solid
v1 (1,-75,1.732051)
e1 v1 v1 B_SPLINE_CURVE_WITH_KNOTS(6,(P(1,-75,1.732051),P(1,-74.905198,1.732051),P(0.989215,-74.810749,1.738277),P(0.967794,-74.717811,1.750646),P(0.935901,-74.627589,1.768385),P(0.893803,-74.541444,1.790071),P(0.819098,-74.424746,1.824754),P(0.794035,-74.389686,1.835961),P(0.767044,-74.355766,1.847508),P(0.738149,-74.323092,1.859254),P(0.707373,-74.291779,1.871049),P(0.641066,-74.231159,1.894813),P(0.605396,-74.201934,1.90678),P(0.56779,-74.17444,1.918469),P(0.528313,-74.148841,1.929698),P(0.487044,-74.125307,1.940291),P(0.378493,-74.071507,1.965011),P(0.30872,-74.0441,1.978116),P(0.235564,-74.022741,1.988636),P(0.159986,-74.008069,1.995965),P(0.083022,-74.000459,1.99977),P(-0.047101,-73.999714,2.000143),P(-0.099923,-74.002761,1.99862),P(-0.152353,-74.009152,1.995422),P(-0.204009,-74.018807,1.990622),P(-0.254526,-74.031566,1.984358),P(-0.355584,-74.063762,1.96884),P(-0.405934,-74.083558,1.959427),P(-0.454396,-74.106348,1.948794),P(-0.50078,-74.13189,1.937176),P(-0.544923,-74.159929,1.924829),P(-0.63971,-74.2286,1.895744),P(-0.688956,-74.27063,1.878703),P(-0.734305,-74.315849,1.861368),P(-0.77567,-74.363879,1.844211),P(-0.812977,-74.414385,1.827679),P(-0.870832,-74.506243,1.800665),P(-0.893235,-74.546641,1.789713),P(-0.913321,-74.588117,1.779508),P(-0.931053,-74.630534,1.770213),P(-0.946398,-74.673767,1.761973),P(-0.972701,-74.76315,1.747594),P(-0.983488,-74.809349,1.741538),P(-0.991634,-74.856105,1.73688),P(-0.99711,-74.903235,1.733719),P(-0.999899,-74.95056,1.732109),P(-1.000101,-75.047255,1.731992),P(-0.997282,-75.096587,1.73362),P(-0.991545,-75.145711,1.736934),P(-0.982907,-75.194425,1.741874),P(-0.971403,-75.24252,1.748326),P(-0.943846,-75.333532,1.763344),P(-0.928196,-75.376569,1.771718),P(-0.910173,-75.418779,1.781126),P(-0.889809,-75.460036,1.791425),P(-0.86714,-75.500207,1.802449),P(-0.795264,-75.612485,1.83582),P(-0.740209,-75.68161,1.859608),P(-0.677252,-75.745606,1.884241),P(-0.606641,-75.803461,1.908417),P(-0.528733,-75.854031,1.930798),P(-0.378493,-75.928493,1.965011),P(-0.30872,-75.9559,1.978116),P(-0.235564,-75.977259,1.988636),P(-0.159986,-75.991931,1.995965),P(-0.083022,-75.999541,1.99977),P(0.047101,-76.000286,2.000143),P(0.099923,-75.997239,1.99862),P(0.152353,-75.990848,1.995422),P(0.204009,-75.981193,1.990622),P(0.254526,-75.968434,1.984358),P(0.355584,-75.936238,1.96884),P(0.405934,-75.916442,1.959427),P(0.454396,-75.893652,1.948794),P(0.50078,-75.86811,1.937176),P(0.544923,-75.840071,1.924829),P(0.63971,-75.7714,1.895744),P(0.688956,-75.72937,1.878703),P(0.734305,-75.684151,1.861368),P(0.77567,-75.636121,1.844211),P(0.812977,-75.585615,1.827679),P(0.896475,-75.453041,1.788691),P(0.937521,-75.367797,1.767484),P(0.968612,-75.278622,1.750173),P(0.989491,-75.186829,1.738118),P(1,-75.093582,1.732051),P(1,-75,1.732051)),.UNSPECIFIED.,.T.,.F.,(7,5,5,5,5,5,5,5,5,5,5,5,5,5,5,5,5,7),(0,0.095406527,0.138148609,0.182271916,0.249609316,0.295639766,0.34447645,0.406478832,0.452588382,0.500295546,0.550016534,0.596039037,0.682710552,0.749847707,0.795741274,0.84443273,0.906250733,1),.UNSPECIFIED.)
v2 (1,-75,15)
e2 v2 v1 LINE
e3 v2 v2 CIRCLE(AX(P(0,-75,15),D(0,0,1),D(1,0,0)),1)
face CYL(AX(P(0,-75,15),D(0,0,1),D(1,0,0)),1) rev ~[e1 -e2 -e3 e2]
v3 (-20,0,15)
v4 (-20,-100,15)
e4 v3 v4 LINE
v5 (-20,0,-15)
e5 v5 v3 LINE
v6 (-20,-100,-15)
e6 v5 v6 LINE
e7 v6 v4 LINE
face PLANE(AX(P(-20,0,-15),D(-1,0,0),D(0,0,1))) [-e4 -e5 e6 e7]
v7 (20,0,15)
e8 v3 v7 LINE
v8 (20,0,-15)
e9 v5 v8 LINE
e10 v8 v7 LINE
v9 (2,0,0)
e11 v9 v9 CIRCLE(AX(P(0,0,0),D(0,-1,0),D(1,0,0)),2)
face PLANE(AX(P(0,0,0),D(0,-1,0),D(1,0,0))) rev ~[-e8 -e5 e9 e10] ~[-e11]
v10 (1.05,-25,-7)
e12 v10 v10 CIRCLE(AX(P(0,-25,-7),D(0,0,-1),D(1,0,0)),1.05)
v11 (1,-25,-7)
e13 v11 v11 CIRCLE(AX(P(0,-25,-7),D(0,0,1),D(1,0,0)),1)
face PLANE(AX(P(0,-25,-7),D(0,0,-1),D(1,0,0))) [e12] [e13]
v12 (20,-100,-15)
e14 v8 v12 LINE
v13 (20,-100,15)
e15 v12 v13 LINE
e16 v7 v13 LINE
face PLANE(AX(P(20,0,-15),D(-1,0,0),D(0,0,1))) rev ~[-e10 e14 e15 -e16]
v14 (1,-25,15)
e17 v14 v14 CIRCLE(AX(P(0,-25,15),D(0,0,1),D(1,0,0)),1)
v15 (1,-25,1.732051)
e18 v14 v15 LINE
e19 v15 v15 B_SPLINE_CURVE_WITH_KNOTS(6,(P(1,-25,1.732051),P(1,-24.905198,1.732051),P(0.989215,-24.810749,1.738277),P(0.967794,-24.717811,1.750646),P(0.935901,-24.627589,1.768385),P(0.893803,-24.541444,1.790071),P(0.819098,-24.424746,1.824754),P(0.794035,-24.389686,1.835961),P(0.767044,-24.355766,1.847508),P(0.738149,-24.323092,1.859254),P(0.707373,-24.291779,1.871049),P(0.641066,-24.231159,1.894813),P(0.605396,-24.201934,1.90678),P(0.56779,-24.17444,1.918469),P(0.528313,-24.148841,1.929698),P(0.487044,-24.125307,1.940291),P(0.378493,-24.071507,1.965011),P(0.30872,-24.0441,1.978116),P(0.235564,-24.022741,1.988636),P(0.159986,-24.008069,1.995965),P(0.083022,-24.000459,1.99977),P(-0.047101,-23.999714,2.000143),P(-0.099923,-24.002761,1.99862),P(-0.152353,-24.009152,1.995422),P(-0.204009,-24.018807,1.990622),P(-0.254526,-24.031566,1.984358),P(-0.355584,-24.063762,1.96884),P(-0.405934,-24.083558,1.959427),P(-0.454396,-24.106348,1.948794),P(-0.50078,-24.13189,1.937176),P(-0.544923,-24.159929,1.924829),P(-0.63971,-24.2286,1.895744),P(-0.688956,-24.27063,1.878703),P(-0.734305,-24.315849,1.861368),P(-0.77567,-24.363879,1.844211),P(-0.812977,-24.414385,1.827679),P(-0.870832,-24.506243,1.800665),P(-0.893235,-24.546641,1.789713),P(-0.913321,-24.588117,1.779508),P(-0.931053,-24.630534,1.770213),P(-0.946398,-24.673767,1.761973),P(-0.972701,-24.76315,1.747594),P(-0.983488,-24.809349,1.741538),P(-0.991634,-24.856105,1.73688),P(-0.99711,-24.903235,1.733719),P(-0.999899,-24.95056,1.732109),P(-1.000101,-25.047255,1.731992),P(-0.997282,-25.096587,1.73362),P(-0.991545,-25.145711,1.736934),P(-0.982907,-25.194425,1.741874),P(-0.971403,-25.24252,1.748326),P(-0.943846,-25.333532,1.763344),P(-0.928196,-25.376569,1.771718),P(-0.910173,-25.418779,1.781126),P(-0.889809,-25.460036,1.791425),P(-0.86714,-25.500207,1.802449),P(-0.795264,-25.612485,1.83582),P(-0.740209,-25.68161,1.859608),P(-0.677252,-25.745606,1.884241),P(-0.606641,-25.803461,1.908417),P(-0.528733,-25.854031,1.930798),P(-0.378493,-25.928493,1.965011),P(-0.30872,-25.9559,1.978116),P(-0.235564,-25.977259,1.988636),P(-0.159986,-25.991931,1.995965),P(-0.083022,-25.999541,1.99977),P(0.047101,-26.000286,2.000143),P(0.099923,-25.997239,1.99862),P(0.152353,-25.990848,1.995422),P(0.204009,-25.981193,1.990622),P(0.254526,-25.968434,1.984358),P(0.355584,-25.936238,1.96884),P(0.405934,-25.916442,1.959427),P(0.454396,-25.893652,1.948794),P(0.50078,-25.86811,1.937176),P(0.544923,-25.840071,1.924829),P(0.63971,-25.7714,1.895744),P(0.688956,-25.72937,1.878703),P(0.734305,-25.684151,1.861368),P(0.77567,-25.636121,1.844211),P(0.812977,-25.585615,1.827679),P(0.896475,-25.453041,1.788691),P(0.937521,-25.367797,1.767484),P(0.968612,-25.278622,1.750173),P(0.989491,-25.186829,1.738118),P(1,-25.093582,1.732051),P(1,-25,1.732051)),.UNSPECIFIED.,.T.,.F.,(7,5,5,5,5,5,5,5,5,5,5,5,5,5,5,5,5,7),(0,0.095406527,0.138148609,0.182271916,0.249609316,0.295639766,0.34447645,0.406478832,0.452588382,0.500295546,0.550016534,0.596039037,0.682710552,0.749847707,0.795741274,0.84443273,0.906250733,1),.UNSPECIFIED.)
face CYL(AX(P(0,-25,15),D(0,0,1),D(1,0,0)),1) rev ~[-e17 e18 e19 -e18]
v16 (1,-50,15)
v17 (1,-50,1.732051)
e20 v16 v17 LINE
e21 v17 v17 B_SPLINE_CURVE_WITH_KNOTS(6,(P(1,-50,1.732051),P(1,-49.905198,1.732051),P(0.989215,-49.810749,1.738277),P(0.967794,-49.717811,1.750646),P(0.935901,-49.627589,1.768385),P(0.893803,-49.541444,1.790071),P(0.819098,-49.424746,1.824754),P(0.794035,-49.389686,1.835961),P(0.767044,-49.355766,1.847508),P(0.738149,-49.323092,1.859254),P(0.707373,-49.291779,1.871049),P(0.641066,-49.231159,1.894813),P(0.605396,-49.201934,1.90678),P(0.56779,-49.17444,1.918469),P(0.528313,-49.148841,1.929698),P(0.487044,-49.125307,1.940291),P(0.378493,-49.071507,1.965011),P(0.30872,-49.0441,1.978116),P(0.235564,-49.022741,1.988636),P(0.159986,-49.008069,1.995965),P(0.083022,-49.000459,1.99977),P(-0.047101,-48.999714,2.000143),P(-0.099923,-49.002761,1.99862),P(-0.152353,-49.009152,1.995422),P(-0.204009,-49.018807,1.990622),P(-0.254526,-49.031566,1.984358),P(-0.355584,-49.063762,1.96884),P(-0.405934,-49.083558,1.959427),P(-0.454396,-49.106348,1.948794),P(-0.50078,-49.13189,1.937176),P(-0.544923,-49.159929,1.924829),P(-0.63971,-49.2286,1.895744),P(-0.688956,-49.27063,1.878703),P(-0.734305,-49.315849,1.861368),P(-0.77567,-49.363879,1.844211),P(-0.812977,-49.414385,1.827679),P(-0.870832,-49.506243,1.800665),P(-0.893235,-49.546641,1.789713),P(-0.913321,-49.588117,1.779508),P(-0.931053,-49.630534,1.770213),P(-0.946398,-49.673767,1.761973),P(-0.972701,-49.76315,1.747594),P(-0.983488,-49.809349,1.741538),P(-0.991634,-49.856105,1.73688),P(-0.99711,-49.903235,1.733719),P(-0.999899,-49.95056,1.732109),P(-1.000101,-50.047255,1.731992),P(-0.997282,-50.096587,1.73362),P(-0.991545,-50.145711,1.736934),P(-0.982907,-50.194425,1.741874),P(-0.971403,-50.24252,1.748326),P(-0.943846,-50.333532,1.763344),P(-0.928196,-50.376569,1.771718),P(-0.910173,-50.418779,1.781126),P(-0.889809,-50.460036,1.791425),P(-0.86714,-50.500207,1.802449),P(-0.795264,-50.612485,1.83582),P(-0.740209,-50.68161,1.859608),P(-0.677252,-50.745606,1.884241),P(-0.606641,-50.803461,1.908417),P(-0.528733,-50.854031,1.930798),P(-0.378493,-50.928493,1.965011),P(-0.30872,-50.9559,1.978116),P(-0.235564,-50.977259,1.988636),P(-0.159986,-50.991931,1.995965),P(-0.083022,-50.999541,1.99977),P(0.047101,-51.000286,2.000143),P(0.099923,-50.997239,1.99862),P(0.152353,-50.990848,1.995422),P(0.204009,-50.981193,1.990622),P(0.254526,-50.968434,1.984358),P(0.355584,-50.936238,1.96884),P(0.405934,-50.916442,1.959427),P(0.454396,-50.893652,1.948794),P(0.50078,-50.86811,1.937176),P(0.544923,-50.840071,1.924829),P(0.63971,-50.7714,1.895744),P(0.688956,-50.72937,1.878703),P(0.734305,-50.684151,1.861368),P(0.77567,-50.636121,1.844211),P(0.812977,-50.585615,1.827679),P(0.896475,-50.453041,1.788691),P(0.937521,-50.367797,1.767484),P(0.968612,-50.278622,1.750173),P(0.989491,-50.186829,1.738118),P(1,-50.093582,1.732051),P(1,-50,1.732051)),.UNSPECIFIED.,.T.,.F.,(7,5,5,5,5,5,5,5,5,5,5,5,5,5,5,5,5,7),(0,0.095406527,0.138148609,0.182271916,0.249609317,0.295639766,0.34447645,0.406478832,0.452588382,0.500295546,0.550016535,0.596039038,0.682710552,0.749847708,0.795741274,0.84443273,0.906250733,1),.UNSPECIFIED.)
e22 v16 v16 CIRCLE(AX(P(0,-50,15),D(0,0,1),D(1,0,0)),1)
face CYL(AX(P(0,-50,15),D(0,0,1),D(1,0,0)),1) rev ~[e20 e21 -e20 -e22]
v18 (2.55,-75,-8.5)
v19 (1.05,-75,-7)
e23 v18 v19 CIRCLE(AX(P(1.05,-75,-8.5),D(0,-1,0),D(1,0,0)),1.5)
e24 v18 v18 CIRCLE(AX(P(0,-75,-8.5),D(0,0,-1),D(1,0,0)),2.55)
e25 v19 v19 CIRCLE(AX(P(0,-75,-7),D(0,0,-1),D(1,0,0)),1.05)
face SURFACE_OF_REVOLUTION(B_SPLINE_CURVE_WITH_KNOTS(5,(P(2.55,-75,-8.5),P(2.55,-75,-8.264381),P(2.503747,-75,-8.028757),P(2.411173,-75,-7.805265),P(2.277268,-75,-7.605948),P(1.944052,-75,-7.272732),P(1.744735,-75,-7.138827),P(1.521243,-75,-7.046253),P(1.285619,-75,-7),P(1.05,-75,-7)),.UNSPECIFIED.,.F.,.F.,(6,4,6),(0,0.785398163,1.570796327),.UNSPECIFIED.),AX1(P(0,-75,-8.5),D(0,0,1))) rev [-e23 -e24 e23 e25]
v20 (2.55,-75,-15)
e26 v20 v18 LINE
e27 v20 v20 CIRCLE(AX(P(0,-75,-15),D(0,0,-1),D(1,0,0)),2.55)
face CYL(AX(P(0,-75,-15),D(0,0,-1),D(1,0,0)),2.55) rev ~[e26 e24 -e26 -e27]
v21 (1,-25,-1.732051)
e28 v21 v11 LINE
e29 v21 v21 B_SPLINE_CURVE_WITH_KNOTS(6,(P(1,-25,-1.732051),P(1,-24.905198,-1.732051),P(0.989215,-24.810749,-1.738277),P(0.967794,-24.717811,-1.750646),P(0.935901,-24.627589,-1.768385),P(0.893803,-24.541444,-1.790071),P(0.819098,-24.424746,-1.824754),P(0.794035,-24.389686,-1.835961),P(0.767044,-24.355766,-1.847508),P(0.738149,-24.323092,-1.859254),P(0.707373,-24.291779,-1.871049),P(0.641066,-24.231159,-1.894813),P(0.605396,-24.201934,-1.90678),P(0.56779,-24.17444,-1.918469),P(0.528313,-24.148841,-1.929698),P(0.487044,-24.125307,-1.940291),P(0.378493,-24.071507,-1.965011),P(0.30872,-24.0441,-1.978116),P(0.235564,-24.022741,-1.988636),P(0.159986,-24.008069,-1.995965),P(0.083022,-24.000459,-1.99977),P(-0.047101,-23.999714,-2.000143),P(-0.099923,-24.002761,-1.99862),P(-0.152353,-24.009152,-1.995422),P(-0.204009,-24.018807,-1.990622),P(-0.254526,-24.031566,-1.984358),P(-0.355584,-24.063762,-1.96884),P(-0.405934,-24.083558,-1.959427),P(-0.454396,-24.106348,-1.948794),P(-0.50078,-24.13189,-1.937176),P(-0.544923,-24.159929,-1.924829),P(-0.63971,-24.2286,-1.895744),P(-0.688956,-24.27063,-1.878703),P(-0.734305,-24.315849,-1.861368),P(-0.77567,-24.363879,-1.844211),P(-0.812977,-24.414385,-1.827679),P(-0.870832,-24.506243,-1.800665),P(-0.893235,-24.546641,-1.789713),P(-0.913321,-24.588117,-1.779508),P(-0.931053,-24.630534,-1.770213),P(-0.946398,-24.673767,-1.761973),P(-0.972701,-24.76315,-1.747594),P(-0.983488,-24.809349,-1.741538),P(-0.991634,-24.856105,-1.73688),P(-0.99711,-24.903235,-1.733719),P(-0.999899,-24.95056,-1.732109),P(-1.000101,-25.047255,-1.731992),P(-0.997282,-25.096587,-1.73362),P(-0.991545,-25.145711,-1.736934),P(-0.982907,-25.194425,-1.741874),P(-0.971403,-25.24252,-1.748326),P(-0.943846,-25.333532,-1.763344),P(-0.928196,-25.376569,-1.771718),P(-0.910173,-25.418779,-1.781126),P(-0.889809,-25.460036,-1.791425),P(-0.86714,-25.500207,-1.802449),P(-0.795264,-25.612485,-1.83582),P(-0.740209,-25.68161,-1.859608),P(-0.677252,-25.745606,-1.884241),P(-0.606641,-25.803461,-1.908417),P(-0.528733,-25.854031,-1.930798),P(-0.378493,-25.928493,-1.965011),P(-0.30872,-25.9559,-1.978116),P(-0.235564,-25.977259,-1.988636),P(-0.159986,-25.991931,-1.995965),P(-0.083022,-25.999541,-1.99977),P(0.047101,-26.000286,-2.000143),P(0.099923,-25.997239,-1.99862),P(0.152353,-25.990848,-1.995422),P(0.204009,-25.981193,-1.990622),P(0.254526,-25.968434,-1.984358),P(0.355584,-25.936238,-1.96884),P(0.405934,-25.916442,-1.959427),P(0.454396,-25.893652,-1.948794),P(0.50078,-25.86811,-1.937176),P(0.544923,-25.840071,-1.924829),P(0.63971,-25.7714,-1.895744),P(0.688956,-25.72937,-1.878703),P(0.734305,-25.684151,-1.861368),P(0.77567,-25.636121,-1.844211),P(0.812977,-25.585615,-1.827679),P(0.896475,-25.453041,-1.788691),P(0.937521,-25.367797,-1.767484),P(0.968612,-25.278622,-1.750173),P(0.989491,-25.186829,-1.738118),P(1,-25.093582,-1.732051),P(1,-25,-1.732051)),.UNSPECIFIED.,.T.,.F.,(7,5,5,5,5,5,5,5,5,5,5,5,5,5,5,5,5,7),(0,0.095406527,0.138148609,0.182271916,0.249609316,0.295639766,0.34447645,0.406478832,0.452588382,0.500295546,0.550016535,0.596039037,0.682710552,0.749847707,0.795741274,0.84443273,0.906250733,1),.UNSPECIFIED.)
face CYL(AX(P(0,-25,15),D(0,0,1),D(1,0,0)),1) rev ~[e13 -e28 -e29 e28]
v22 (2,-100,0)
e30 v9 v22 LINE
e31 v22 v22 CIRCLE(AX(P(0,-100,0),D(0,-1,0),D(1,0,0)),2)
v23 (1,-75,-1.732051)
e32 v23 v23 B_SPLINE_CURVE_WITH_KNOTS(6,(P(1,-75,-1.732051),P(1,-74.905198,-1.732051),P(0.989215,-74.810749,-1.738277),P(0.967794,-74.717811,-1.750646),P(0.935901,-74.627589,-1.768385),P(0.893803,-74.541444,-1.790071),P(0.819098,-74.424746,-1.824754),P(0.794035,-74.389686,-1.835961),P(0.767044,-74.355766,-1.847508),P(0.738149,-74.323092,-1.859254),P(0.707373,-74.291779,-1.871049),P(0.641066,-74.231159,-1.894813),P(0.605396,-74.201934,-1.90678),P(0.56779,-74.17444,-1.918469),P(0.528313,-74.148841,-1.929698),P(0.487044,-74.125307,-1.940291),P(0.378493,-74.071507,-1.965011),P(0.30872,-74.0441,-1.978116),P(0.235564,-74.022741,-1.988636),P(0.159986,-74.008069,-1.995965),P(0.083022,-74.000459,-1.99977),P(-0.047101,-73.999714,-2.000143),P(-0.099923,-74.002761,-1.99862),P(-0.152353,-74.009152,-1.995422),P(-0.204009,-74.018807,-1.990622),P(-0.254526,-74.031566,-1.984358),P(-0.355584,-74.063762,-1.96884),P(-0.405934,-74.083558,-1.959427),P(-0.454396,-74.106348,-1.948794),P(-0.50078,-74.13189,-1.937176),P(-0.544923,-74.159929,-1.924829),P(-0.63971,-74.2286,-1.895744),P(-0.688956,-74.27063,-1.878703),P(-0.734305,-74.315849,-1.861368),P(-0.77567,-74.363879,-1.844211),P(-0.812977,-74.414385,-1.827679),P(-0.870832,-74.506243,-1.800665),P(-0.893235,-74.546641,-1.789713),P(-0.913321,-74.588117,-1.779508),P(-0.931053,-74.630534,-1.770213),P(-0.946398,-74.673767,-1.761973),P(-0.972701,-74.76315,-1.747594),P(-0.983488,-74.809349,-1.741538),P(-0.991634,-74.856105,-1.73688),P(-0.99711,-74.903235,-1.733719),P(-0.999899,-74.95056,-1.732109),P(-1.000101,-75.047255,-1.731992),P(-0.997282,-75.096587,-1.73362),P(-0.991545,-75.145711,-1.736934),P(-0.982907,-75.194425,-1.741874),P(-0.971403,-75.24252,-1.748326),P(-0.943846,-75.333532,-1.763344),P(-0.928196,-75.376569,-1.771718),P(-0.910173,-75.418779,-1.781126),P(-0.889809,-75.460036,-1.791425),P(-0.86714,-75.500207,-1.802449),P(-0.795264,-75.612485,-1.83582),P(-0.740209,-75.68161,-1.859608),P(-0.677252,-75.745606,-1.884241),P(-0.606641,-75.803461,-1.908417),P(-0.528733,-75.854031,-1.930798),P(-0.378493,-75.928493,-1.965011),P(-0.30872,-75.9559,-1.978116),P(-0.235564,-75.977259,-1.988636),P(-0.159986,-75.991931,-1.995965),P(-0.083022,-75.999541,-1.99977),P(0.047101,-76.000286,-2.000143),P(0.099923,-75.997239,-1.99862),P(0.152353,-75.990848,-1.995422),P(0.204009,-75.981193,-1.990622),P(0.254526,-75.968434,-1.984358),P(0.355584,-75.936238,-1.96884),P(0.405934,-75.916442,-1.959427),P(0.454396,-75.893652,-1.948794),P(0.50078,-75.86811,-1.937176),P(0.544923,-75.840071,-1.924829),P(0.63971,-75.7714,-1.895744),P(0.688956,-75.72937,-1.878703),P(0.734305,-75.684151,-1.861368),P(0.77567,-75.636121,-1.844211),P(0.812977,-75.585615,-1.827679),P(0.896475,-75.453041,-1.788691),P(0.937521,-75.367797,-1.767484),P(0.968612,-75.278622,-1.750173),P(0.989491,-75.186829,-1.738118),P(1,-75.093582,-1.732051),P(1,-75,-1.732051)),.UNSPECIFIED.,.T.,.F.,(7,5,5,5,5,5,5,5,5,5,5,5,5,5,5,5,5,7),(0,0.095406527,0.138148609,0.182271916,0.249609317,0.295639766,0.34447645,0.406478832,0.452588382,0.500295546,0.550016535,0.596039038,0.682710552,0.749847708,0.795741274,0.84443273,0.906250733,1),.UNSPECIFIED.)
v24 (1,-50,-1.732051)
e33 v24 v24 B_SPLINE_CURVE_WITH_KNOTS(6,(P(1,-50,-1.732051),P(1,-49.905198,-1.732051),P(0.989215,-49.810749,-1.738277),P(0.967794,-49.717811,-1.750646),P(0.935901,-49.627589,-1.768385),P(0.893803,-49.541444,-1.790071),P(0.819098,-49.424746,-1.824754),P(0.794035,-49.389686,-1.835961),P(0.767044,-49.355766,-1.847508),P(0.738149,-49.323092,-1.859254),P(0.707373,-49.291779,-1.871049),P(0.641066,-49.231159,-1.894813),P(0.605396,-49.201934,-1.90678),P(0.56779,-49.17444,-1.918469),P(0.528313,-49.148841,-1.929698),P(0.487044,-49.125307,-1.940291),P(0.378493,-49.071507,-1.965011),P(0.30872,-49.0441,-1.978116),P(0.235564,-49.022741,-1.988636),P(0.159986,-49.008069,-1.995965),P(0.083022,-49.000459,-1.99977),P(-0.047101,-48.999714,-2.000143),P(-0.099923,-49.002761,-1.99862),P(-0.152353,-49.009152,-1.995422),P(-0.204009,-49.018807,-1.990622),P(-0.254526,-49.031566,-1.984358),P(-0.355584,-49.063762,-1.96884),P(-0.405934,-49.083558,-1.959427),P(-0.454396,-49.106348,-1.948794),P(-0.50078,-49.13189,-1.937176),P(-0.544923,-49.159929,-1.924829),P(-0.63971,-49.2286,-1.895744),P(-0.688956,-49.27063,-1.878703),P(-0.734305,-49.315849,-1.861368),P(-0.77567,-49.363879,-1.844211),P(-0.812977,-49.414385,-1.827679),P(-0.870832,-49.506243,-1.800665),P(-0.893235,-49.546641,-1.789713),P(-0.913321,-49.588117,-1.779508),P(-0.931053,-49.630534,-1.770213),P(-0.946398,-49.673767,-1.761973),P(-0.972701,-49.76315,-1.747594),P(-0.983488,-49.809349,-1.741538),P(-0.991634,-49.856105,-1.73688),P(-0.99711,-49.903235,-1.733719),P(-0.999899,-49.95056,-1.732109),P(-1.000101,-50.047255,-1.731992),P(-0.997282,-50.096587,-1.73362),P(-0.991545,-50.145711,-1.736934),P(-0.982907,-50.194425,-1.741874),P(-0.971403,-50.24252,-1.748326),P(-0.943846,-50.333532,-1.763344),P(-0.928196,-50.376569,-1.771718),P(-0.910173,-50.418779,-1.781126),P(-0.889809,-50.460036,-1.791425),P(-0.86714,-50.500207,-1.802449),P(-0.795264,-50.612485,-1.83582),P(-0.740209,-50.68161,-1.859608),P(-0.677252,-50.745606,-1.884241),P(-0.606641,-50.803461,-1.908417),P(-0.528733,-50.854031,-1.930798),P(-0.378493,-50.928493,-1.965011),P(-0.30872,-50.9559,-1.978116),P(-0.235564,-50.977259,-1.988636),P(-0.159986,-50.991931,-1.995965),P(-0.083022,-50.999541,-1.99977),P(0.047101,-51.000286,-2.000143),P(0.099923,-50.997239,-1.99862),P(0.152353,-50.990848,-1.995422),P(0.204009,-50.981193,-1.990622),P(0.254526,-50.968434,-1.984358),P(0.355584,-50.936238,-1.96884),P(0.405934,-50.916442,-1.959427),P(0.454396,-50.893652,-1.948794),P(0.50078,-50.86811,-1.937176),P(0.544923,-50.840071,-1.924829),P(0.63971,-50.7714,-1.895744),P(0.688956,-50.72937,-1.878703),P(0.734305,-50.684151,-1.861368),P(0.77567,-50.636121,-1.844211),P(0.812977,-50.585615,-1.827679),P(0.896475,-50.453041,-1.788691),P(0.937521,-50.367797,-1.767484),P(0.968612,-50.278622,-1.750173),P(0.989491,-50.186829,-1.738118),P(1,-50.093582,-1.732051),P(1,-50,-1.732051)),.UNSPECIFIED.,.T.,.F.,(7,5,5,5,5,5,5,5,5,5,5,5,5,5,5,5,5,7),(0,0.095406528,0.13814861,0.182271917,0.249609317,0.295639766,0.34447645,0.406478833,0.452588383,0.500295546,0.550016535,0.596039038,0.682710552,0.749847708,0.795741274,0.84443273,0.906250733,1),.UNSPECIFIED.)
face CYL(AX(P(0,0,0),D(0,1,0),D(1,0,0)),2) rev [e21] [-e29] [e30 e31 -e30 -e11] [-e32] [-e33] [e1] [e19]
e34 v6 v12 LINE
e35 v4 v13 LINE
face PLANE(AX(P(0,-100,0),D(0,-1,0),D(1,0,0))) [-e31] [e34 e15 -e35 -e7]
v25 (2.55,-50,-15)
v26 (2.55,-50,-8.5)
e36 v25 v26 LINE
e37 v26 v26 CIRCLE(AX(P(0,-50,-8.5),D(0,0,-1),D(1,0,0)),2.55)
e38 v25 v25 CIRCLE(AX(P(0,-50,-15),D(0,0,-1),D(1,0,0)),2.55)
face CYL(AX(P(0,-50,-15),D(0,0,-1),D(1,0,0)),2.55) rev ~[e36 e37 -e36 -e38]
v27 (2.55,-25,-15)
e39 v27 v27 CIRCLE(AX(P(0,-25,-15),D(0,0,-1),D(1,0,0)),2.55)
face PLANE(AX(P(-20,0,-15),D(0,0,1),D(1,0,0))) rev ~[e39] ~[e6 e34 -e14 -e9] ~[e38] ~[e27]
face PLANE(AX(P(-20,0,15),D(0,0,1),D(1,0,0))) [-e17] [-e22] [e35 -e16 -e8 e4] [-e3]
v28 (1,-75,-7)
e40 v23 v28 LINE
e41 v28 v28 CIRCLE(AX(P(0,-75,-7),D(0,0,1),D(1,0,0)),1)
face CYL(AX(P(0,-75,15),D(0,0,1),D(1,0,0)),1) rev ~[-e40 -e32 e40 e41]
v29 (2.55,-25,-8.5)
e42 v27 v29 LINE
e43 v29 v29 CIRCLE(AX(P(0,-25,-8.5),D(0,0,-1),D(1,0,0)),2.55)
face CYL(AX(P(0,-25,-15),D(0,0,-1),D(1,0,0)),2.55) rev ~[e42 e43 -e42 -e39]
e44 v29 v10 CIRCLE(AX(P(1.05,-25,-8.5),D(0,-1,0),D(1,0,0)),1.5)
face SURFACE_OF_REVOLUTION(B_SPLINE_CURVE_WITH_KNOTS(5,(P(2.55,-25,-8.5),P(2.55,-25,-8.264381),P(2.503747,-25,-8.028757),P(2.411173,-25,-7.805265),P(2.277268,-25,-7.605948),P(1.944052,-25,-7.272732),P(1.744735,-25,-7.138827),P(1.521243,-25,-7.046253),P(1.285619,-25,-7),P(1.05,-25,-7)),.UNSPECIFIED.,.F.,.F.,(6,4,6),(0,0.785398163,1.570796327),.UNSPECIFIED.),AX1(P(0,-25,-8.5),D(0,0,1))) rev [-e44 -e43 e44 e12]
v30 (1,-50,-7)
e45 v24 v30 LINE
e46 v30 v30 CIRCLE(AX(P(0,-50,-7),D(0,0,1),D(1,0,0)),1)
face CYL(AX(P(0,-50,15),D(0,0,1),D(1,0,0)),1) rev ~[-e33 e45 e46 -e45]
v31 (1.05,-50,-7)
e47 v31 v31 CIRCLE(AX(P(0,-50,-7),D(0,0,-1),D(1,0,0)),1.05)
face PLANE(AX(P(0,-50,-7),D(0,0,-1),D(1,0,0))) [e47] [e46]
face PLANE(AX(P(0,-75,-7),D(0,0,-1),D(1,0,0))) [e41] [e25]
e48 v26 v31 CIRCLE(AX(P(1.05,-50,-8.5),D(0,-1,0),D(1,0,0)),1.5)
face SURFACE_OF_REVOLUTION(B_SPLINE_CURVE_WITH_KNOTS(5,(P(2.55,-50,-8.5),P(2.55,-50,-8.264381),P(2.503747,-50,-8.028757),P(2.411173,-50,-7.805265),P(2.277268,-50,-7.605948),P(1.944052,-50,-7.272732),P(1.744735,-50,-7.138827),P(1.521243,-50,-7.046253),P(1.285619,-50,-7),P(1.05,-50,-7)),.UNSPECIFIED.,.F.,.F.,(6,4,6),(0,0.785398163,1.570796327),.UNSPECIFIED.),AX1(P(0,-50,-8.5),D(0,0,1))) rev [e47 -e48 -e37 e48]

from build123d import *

# Parameters (mm, degrees)
F0_W     = 40
F0_H     = 30
F0_R     = 2
F1_DEPTH = 100
F2_R     = 1
F3_DEPTH = 30
F4_R     = 2.55
F5_DEPTH = 8
F6_R     = 1.5
F7_R     = 1.5
F8_R     = 1.5


with BuildPart() as f1:
    # F0 (on Front) → F1 (new body)
    with BuildSketch(Plane.XZ):
        Rectangle(F0_W, F0_H)
        Circle(F0_R, mode=Mode.SUBTRACT)
    extrude(amount=F1_DEPTH)

    # F2 (on face) → F3 (cut)
    with BuildSketch(Plane.XY.offset(15)):
        with Locations((0, -25)):
            Circle(F2_R)
        with Locations((0, -50)):
            Circle(F2_R)
        with Locations((0, -75)):
            Circle(F2_R)
    extrude(amount=-F3_DEPTH, mode=Mode.SUBTRACT)

    # F4 (on face) → F5 (cut)
    with BuildSketch(Plane(origin=(0, 0, -15), x_dir=(1, 0, 0), z_dir=(0, 0, -1))):
        with Locations((0, 25)):
            Circle(F4_R)
        with Locations((0, 50)):
            Circle(F4_R)
        with Locations((0, 75)):
            Circle(F4_R)
    extrude(amount=-F5_DEPTH, mode=Mode.SUBTRACT)

    # F6
    f6_edges = [f1.edges().sort_by_distance(p)[0] for p in [
        (-2.55, -25, -7),
    ]]
    fillet(f6_edges, radius=F6_R)

    # F7
    f7_edges = [f1.edges().sort_by_distance(p)[0] for p in [
        (-2.55, -50, -7),
    ]]
    fillet(f7_edges, radius=F7_R)

    # F8
    f8_edges = [f1.edges().sort_by_distance(p)[0] for p in [
        (-2.55, -75, -7),
    ]]
    fillet(f8_edges, radius=F8_R)


solid = f1.part
